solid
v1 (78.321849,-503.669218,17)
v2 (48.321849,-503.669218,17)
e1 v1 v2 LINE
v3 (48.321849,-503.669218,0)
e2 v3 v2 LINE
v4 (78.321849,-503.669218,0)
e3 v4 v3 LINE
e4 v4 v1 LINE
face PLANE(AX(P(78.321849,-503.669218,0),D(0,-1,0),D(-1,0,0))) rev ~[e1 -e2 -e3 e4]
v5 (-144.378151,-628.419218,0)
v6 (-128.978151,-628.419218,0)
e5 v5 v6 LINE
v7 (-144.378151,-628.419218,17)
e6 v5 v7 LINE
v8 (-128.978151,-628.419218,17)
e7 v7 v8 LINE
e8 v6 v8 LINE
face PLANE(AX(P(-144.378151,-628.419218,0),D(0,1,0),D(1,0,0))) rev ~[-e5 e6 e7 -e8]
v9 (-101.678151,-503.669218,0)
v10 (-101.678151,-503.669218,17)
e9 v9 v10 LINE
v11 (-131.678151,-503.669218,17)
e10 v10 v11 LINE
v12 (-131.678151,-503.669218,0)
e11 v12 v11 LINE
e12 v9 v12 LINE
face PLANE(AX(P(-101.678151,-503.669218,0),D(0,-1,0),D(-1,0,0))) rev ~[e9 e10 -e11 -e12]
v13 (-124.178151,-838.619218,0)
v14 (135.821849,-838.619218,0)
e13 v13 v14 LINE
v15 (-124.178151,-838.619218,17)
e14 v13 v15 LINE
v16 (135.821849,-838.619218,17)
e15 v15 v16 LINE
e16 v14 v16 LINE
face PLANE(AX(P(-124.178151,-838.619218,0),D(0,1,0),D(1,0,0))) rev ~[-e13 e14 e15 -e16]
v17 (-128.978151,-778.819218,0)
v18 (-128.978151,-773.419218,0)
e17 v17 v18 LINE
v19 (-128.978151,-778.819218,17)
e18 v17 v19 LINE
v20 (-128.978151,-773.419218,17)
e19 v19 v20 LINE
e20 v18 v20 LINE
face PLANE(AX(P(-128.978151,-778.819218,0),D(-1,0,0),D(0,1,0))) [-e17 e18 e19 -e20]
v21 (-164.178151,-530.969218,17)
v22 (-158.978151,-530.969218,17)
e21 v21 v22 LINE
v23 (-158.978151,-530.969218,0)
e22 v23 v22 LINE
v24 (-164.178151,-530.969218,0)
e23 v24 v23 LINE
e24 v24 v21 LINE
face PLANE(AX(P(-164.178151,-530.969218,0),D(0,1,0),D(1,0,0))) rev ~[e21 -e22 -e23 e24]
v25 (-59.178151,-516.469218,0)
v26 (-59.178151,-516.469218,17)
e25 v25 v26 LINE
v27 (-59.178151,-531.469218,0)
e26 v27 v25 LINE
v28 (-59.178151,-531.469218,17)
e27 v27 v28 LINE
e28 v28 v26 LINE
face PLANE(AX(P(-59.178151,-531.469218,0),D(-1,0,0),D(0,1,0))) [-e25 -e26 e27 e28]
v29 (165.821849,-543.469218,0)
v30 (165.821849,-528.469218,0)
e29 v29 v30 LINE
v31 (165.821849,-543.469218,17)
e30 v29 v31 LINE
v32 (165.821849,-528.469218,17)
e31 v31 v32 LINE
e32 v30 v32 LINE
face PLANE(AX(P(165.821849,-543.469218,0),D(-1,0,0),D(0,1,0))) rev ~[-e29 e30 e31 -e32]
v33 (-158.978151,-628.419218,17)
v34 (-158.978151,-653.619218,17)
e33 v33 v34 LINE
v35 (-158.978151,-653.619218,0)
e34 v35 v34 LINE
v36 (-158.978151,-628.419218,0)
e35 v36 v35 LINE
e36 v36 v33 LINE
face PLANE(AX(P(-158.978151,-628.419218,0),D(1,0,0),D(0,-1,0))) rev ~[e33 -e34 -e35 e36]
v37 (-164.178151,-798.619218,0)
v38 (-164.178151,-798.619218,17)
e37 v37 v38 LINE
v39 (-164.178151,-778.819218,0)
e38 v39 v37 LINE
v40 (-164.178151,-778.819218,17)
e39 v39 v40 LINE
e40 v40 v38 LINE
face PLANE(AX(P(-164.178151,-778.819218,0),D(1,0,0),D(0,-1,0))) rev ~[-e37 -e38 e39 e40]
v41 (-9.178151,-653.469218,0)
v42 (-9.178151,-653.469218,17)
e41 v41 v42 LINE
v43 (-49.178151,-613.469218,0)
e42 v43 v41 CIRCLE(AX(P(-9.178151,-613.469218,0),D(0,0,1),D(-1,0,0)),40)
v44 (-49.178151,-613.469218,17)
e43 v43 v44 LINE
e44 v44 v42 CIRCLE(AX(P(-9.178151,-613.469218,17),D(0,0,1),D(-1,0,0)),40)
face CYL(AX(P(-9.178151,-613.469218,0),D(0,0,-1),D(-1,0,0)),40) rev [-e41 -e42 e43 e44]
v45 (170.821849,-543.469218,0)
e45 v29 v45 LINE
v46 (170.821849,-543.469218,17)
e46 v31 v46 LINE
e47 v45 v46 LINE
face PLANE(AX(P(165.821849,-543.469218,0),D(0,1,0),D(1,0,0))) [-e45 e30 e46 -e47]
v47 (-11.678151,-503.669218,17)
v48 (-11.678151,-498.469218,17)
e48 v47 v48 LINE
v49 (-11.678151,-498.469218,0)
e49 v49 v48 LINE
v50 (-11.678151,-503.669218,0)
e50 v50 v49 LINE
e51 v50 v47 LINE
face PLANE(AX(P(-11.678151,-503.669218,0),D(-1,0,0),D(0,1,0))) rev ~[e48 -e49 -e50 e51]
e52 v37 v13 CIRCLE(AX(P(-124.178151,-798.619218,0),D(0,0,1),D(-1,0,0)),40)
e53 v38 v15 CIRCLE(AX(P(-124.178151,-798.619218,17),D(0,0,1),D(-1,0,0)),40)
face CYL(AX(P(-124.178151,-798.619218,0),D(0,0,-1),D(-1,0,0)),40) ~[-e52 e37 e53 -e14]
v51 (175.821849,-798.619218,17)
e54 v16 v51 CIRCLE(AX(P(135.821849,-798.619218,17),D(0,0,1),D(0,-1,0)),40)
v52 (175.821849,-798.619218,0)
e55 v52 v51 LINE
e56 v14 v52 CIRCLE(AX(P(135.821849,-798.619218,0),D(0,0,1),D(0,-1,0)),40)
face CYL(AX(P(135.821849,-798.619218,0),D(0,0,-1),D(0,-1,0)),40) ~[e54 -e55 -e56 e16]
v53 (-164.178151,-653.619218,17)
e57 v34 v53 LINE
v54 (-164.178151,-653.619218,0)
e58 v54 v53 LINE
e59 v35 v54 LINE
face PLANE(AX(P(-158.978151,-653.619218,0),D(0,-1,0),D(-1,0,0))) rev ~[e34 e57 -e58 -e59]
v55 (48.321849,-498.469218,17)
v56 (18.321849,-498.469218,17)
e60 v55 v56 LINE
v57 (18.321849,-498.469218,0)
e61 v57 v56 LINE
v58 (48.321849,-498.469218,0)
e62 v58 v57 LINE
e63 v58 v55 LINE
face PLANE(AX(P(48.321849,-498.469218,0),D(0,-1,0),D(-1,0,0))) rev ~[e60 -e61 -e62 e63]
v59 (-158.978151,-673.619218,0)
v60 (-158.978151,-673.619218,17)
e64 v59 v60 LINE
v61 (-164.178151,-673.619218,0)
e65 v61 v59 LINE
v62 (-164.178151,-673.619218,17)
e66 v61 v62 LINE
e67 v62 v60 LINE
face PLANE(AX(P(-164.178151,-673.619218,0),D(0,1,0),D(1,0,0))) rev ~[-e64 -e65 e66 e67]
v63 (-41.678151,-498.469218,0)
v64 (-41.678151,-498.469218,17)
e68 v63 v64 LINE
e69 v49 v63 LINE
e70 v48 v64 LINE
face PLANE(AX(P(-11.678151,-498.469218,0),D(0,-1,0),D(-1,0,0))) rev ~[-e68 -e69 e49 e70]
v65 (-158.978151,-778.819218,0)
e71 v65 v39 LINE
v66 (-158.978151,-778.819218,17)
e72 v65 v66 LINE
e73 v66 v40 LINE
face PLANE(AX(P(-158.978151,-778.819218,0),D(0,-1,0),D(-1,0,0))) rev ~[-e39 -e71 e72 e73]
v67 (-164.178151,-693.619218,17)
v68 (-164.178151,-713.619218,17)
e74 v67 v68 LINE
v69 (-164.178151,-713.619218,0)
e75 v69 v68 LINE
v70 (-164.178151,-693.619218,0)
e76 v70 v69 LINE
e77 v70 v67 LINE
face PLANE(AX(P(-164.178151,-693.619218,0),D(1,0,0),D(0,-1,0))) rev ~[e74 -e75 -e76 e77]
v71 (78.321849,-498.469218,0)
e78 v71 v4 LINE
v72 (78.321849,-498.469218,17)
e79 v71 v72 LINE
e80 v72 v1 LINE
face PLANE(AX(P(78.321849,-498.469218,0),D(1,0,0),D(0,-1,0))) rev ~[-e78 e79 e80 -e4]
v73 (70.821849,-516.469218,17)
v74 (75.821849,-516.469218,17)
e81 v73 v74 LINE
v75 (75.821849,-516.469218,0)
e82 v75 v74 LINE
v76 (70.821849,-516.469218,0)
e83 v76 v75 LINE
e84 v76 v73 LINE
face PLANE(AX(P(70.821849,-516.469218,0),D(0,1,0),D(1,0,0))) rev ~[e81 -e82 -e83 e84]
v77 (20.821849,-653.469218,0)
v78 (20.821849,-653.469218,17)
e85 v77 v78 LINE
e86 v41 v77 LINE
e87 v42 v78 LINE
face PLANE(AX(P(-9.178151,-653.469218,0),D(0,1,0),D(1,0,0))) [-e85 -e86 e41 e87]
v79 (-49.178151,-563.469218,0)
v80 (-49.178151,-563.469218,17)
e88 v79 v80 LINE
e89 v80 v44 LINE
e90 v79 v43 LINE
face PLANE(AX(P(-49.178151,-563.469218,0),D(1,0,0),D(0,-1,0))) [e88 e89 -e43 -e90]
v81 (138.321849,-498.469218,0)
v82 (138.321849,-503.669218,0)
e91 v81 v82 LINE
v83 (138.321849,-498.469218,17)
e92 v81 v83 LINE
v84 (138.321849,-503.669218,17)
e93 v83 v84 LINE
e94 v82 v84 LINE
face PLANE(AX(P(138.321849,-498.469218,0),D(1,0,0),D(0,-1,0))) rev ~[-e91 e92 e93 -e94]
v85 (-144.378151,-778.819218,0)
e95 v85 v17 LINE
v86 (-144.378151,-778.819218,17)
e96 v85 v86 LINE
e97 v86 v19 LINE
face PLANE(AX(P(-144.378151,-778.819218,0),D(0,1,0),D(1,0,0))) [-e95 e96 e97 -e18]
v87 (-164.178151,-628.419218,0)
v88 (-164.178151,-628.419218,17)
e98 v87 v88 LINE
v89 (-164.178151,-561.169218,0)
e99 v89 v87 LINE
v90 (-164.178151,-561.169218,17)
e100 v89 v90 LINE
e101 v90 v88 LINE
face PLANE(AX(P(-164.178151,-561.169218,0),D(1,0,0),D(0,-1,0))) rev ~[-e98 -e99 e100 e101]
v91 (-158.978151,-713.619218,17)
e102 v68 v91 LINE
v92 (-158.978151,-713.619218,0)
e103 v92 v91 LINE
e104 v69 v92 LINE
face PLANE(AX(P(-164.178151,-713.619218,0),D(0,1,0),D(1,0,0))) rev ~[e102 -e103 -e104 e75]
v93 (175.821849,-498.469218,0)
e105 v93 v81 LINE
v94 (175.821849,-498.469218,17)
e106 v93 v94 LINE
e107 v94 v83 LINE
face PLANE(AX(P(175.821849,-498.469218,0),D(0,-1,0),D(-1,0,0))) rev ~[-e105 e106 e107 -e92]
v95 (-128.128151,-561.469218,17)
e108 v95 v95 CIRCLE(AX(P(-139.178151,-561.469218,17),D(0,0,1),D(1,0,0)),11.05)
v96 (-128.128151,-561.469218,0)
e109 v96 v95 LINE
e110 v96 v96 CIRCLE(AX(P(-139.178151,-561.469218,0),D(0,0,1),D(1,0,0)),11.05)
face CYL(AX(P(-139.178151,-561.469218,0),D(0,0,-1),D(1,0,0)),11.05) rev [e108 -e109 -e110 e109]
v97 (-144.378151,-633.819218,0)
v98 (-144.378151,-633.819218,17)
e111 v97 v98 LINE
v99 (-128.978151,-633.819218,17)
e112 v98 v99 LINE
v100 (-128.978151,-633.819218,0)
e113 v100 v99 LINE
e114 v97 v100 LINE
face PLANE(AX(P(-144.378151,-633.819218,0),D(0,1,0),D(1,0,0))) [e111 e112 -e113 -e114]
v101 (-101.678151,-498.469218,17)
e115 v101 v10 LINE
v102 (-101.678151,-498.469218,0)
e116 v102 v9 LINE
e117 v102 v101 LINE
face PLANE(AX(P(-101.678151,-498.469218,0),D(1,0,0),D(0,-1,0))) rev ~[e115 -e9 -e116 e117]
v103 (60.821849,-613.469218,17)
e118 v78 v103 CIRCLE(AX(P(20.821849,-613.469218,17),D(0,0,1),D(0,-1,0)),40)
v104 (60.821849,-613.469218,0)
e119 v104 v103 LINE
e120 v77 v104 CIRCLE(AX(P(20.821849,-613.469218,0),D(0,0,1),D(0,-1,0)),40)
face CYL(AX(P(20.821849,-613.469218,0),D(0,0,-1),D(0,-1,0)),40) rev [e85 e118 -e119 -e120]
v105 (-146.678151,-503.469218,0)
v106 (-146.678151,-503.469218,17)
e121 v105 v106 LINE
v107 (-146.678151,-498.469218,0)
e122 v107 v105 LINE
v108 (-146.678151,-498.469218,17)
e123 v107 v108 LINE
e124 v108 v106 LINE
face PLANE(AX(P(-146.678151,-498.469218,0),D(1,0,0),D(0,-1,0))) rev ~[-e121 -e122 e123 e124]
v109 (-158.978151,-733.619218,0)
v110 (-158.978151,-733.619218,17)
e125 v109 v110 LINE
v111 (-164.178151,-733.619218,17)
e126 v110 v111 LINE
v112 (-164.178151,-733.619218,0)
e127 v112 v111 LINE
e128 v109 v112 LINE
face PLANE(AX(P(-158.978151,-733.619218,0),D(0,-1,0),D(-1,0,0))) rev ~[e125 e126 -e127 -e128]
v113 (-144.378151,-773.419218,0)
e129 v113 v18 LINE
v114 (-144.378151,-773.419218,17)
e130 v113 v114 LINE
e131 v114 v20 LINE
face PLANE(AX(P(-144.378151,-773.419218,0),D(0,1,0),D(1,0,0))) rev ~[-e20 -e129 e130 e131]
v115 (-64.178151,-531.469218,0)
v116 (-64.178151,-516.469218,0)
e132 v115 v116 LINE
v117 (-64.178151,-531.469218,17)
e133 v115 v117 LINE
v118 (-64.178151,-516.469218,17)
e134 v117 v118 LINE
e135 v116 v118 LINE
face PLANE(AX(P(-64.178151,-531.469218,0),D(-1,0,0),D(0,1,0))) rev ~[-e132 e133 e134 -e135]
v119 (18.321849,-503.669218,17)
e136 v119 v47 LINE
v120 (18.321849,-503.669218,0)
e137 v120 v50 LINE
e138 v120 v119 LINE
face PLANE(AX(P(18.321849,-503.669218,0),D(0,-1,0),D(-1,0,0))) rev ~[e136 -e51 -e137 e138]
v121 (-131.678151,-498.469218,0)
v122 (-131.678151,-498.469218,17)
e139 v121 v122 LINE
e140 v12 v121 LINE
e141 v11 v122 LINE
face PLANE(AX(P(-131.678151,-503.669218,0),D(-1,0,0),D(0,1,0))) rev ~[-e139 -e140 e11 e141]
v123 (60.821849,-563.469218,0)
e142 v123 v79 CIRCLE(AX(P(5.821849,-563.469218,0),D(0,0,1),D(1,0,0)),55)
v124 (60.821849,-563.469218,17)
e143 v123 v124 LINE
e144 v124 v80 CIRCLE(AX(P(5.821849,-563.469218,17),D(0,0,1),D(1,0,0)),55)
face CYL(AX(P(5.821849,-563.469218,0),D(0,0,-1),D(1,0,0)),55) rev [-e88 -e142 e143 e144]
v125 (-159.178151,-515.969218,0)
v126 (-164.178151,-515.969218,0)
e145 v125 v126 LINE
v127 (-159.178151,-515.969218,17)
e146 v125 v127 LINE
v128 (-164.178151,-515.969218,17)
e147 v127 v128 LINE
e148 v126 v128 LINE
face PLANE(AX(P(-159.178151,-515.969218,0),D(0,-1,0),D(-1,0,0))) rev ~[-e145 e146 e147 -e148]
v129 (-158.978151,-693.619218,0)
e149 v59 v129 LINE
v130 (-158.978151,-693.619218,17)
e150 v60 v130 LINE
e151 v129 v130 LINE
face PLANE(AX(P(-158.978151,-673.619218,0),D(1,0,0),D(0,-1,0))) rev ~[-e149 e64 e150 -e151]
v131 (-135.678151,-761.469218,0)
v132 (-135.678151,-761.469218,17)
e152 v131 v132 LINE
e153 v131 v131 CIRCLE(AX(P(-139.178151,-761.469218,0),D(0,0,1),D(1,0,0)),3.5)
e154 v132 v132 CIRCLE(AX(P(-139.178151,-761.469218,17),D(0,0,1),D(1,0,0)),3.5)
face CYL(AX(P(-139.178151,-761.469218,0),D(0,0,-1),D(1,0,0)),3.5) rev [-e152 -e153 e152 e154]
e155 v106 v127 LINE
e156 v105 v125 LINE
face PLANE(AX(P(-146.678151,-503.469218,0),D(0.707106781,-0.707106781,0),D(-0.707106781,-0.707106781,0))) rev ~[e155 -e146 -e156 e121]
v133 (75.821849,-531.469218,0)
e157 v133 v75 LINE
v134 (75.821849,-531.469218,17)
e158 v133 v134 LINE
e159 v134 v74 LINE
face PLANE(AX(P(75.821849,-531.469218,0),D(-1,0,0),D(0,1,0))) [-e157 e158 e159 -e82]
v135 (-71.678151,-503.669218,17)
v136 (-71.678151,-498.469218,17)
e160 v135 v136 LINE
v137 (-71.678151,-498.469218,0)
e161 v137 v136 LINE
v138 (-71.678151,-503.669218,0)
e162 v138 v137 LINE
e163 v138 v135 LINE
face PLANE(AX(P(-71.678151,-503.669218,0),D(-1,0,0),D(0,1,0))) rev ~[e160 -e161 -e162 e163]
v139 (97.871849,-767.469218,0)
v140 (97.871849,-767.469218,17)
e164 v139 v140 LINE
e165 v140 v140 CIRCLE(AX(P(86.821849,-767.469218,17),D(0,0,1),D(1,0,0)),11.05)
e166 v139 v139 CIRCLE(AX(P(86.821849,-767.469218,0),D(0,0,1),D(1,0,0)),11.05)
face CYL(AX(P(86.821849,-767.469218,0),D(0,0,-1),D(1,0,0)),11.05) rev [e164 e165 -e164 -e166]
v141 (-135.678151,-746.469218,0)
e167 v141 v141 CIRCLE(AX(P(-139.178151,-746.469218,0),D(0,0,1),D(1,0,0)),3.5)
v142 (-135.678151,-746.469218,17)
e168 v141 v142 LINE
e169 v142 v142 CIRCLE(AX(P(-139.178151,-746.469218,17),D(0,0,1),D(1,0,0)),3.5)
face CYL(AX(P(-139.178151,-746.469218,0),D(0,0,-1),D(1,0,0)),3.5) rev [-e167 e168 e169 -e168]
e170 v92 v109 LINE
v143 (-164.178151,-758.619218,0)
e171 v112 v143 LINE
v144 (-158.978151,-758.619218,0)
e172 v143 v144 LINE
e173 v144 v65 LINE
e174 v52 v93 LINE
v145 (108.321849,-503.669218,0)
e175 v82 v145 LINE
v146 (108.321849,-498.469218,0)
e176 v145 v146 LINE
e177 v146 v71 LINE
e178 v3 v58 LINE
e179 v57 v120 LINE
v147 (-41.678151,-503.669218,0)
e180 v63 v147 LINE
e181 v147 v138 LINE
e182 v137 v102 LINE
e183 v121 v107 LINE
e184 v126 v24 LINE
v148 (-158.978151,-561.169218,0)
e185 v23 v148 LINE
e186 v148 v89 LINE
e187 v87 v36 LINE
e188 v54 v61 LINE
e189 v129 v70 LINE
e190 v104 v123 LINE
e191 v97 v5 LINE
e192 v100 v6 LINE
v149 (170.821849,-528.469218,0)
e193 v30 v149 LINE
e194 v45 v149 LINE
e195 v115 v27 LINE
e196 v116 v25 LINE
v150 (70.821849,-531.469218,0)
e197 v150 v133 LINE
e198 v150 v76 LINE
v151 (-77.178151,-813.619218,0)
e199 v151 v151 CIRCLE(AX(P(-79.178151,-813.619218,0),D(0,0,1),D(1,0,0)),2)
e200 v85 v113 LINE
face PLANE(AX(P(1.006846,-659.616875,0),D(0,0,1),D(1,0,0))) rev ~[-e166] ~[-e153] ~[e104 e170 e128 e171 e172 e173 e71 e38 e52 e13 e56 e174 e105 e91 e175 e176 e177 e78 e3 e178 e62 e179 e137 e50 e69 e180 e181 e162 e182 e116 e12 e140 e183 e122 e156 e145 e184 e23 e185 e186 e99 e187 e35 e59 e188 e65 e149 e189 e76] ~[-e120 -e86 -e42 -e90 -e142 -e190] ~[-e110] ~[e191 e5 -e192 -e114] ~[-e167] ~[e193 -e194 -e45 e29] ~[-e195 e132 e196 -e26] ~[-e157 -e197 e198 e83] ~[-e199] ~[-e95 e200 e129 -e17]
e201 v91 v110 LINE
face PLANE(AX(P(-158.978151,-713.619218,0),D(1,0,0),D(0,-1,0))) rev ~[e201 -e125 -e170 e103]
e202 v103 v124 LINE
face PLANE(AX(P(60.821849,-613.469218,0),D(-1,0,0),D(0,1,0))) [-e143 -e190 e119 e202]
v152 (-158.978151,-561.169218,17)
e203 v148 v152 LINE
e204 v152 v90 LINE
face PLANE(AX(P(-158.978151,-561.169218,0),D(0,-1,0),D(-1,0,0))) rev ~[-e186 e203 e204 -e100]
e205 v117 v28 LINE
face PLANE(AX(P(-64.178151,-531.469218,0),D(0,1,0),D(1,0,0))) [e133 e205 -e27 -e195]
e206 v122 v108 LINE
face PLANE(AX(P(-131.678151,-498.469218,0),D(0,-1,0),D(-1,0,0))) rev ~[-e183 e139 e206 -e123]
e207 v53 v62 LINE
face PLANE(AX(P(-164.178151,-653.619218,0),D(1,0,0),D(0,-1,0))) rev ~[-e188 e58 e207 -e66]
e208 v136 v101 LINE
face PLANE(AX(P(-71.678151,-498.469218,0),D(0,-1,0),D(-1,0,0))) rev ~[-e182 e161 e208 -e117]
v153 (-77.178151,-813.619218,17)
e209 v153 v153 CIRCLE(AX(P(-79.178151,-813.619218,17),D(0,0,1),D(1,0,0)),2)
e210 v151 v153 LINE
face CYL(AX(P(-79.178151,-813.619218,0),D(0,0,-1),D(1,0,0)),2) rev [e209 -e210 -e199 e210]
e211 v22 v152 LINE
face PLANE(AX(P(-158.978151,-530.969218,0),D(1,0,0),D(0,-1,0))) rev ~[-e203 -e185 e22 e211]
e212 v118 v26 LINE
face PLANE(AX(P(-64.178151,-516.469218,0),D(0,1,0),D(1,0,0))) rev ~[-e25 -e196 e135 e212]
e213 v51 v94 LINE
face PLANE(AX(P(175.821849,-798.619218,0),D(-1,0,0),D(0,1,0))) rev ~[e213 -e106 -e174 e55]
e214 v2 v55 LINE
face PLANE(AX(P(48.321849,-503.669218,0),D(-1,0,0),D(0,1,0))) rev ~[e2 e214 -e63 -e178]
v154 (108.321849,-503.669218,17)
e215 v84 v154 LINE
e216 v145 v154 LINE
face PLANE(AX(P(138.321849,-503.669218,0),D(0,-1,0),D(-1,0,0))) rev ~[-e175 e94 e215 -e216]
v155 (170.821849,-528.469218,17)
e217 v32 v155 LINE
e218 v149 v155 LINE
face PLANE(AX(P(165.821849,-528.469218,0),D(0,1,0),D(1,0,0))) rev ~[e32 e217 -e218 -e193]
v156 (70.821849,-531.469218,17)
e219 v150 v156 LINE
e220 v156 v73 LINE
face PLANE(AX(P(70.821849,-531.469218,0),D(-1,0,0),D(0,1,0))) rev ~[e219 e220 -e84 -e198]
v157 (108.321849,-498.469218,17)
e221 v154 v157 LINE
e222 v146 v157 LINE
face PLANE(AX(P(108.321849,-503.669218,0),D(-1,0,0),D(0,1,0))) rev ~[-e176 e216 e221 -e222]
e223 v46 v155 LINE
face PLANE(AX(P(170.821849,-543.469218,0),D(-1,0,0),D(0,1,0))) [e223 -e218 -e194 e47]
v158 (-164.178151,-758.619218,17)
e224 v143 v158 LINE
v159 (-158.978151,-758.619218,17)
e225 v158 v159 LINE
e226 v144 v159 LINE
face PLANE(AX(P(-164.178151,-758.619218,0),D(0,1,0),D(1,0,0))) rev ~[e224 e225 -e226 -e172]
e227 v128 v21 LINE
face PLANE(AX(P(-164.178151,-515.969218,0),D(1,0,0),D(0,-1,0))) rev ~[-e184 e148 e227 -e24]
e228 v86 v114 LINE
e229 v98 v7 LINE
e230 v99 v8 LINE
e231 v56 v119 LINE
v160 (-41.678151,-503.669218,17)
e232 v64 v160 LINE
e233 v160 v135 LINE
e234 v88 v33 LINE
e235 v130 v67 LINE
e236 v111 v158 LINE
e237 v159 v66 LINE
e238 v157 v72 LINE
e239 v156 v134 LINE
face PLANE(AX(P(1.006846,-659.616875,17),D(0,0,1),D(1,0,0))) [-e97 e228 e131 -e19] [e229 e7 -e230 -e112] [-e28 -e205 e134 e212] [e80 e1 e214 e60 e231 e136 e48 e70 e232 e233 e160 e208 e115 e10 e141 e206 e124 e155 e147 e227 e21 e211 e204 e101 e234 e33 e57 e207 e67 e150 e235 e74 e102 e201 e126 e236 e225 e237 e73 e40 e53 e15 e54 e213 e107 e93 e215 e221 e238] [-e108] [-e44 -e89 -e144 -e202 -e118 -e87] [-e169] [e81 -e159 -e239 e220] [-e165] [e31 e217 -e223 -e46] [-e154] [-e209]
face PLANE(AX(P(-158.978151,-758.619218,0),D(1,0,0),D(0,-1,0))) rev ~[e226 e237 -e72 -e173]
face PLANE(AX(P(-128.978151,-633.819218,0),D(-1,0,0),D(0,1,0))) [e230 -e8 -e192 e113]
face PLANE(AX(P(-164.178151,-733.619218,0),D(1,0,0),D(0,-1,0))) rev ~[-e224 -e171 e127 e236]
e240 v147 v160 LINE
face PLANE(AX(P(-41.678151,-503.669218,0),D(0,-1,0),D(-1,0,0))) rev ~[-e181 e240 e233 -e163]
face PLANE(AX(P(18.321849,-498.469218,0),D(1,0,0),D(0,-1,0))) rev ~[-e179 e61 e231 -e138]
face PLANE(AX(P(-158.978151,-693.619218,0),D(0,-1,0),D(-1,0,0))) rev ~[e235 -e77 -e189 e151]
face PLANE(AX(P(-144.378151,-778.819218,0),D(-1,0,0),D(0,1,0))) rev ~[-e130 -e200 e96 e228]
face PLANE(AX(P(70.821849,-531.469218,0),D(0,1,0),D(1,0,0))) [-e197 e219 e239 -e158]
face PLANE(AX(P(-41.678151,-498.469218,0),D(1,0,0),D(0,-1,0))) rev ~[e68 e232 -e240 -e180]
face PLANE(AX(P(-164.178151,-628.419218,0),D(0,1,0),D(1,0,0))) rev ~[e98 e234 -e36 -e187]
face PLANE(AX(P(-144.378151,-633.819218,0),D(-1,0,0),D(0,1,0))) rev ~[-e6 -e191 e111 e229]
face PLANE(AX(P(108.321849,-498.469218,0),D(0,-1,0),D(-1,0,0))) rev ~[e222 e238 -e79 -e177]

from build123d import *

# Parameters (mm, degrees)
MODEL_R             = 11.05
MODEL_R_2           = 2
MODEL_R_3           = 3.5
MODEL_W             = 15.4
MODEL_H             = 5.4
MODEL_W_2           = 5
MODEL_H_2           = 15
BOSS_EXTRUDE1_DEPTH = 17


with BuildPart() as part:
    # Model → Boss-Extrude1 (new body)
    with BuildSketch(Plane.XY):
        with BuildLine():
            Line((-158.978150708, -561.169218198), (-164.178150708, -561.169218198))
            Line((-164.178150708, -561.169218198), (-164.178150708, -628.419218198))
            Line((-164.178150708, -628.419218198), (-158.978150708, -628.419218198))
            Line((-158.978150708, -628.419218198), (-158.978150708, -653.619218198))
            Line((-158.978150708, -653.619218198), (-164.178150708, -653.619218198))
            Line((-164.178150708, -653.619218198), (-164.178150708, -673.619218198))
            Line((-164.178150708, -673.619218198), (-158.978150708, -673.619218198))
            Line((-158.978150708, -673.619218198), (-158.978150708, -693.619218198))
            Line((-158.978150708, -693.619218198), (-164.178150708, -693.619218198))
            Line((-164.178150708, -693.619218198), (-164.178150708, -713.619218198))
            Line((-164.178150708, -713.619218198), (-158.978150708, -713.619218198))
            Line((-158.978150708, -713.619218198), (-158.978150708, -733.619218198))
            Line((-158.978150708, -733.619218198), (-164.178150708, -733.619218198))
            Line((-164.178150708, -733.619218198), (-164.178150708, -758.619218198))
            Line((-164.178150708, -758.619218198), (-158.978150708, -758.619218198))
            Line((-158.978150708, -758.619218198), (-158.978150708, -778.819218198))
            Line((-158.978150708, -778.819218198), (-164.178150708, -778.819218198))
            Line((-164.178150708, -778.819218198), (-164.178150708, -798.619218198))
            ThreePointArc((-164.178150708, -798.619218198), (-152.462421956, -826.903489445), (-124.178150708, -838.619218198))
            Line((-124.178150708, -838.619218198), (135.821849292, -838.619218198))
            ThreePointArc((135.821849292, -838.619218198), (164.106120539, -826.903489445), (175.821849292, -798.619218198))
            Line((175.821849292, -798.619218198), (175.821849292, -498.469218198))
            Line((175.821849292, -498.469218198), (138.321849292, -498.469218198))
            Line((138.321849292, -498.469218198), (138.321849292, -503.669218198))
            Line((138.321849292, -503.669218198), (108.321849292, -503.669218198))
            Line((108.321849292, -503.669218198), (108.321849292, -498.469218198))
            Line((108.321849292, -498.469218198), (78.321849292, -498.469218198))
            Line((78.321849292, -498.469218198), (78.321849292, -503.669218198))
            Line((78.321849292, -503.669218198), (48.321849292, -503.669218198))
            Line((48.321849292, -503.669218198), (48.321849292, -498.469218198))
            Line((48.321849292, -498.469218198), (18.321849292, -498.469218198))
            Line((18.321849292, -498.469218198), (18.321849292, -503.669218198))
            Line((18.321849292, -503.669218198), (-11.678150708, -503.669218198))
            Line((-11.678150708, -503.669218198), (-11.678150708, -498.469218198))
            Line((-11.678150708, -498.469218198), (-41.678150708, -498.469218198))
            Line((-41.678150708, -498.469218198), (-41.678150708, -503.669218198))
            Line((-41.678150708, -503.669218198), (-71.678150708, -503.669218198))
            Line((-71.678150708, -503.669218198), (-71.678150708, -498.469218198))
            Line((-71.678150708, -498.469218198), (-101.678150708, -498.469218198))
            Line((-101.678150708, -498.469218198), (-101.678150708, -503.669218198))
            Line((-101.678150708, -503.669218198), (-131.678150708, -503.669218198))
            Line((-131.678150708, -503.669218198), (-131.678150708, -498.469218198))
            Line((-131.678150708, -498.469218198), (-146.678150708, -498.469218198))
            Line((-146.678150708, -498.469218198), (-146.678150708, -503.469218198))
            Line((-146.678150708, -503.469218198), (-159.178150708, -515.969218198))
            Line((-159.178150708, -515.969218198), (-164.178150708, -515.969218198))
            Line((-164.178150708, -515.969218198), (-164.178150708, -530.969218198))
            Line((-164.178150708, -530.969218198), (-158.978150708, -530.969218198))
            Line((-158.978150708, -530.969218198), (-158.978150708, -561.169218198))
        make_face()
        with Locations((86.821849292, -767.469218198)):
            Circle(MODEL_R, mode=Mode.SUBTRACT)
        with Locations((-139.178150708, -561.469218198)):
            Circle(MODEL_R, mode=Mode.SUBTRACT)
        with Locations((-79.178150708, -813.619218198)):
            Circle(MODEL_R_2, mode=Mode.SUBTRACT)
        with Locations((-139.178150708, -746.469218198)):
            Circle(MODEL_R_3, mode=Mode.SUBTRACT)
        with Locations((-139.178150708, -761.469218198)):
            Circle(MODEL_R_3, mode=Mode.SUBTRACT)
        with BuildLine():
            Line((60.821849292, -613.469218198), (60.821849292, -563.469218198))
            ThreePointArc((60.821849292, -563.469218198), (5.821849292, -508.469218198), (-49.178150708, -563.469218198))
            Line((-49.178150708, -563.469218198), (-49.178150708, -613.469218198))
            ThreePointArc((-49.178150708, -613.469218198), (-37.462421956, -641.753489445), (-9.178150708, -653.469218198))
            Line((-9.178150708, -653.469218198), (20.821849292, -653.469218198))
            ThreePointArc((20.821849292, -653.469218198), (49.106120539, -641.753489445), (60.821849292, -613.469218198))
        make_face(mode=Mode.SUBTRACT)
        with Locations((-136.678150708, -631.119218198)):
            Rectangle(MODEL_W, MODEL_H, mode=Mode.SUBTRACT)
        with Locations((-136.678150708, -776.119218198)):
            Rectangle(MODEL_W, MODEL_H, mode=Mode.SUBTRACT)
        with Locations((73.321849292, -523.969218198)):
            Rectangle(MODEL_W_2, MODEL_H_2, mode=Mode.SUBTRACT)
        with Locations((168.321849292, -535.969218198)):
            Rectangle(MODEL_W_2, MODEL_H_2, mode=Mode.SUBTRACT)
        with Locations((-61.678150708, -523.969218198)):
            Rectangle(MODEL_W_2, MODEL_H_2, mode=Mode.SUBTRACT)
    extrude(amount=BOSS_EXTRUDE1_DEPTH)


solid = part.part
